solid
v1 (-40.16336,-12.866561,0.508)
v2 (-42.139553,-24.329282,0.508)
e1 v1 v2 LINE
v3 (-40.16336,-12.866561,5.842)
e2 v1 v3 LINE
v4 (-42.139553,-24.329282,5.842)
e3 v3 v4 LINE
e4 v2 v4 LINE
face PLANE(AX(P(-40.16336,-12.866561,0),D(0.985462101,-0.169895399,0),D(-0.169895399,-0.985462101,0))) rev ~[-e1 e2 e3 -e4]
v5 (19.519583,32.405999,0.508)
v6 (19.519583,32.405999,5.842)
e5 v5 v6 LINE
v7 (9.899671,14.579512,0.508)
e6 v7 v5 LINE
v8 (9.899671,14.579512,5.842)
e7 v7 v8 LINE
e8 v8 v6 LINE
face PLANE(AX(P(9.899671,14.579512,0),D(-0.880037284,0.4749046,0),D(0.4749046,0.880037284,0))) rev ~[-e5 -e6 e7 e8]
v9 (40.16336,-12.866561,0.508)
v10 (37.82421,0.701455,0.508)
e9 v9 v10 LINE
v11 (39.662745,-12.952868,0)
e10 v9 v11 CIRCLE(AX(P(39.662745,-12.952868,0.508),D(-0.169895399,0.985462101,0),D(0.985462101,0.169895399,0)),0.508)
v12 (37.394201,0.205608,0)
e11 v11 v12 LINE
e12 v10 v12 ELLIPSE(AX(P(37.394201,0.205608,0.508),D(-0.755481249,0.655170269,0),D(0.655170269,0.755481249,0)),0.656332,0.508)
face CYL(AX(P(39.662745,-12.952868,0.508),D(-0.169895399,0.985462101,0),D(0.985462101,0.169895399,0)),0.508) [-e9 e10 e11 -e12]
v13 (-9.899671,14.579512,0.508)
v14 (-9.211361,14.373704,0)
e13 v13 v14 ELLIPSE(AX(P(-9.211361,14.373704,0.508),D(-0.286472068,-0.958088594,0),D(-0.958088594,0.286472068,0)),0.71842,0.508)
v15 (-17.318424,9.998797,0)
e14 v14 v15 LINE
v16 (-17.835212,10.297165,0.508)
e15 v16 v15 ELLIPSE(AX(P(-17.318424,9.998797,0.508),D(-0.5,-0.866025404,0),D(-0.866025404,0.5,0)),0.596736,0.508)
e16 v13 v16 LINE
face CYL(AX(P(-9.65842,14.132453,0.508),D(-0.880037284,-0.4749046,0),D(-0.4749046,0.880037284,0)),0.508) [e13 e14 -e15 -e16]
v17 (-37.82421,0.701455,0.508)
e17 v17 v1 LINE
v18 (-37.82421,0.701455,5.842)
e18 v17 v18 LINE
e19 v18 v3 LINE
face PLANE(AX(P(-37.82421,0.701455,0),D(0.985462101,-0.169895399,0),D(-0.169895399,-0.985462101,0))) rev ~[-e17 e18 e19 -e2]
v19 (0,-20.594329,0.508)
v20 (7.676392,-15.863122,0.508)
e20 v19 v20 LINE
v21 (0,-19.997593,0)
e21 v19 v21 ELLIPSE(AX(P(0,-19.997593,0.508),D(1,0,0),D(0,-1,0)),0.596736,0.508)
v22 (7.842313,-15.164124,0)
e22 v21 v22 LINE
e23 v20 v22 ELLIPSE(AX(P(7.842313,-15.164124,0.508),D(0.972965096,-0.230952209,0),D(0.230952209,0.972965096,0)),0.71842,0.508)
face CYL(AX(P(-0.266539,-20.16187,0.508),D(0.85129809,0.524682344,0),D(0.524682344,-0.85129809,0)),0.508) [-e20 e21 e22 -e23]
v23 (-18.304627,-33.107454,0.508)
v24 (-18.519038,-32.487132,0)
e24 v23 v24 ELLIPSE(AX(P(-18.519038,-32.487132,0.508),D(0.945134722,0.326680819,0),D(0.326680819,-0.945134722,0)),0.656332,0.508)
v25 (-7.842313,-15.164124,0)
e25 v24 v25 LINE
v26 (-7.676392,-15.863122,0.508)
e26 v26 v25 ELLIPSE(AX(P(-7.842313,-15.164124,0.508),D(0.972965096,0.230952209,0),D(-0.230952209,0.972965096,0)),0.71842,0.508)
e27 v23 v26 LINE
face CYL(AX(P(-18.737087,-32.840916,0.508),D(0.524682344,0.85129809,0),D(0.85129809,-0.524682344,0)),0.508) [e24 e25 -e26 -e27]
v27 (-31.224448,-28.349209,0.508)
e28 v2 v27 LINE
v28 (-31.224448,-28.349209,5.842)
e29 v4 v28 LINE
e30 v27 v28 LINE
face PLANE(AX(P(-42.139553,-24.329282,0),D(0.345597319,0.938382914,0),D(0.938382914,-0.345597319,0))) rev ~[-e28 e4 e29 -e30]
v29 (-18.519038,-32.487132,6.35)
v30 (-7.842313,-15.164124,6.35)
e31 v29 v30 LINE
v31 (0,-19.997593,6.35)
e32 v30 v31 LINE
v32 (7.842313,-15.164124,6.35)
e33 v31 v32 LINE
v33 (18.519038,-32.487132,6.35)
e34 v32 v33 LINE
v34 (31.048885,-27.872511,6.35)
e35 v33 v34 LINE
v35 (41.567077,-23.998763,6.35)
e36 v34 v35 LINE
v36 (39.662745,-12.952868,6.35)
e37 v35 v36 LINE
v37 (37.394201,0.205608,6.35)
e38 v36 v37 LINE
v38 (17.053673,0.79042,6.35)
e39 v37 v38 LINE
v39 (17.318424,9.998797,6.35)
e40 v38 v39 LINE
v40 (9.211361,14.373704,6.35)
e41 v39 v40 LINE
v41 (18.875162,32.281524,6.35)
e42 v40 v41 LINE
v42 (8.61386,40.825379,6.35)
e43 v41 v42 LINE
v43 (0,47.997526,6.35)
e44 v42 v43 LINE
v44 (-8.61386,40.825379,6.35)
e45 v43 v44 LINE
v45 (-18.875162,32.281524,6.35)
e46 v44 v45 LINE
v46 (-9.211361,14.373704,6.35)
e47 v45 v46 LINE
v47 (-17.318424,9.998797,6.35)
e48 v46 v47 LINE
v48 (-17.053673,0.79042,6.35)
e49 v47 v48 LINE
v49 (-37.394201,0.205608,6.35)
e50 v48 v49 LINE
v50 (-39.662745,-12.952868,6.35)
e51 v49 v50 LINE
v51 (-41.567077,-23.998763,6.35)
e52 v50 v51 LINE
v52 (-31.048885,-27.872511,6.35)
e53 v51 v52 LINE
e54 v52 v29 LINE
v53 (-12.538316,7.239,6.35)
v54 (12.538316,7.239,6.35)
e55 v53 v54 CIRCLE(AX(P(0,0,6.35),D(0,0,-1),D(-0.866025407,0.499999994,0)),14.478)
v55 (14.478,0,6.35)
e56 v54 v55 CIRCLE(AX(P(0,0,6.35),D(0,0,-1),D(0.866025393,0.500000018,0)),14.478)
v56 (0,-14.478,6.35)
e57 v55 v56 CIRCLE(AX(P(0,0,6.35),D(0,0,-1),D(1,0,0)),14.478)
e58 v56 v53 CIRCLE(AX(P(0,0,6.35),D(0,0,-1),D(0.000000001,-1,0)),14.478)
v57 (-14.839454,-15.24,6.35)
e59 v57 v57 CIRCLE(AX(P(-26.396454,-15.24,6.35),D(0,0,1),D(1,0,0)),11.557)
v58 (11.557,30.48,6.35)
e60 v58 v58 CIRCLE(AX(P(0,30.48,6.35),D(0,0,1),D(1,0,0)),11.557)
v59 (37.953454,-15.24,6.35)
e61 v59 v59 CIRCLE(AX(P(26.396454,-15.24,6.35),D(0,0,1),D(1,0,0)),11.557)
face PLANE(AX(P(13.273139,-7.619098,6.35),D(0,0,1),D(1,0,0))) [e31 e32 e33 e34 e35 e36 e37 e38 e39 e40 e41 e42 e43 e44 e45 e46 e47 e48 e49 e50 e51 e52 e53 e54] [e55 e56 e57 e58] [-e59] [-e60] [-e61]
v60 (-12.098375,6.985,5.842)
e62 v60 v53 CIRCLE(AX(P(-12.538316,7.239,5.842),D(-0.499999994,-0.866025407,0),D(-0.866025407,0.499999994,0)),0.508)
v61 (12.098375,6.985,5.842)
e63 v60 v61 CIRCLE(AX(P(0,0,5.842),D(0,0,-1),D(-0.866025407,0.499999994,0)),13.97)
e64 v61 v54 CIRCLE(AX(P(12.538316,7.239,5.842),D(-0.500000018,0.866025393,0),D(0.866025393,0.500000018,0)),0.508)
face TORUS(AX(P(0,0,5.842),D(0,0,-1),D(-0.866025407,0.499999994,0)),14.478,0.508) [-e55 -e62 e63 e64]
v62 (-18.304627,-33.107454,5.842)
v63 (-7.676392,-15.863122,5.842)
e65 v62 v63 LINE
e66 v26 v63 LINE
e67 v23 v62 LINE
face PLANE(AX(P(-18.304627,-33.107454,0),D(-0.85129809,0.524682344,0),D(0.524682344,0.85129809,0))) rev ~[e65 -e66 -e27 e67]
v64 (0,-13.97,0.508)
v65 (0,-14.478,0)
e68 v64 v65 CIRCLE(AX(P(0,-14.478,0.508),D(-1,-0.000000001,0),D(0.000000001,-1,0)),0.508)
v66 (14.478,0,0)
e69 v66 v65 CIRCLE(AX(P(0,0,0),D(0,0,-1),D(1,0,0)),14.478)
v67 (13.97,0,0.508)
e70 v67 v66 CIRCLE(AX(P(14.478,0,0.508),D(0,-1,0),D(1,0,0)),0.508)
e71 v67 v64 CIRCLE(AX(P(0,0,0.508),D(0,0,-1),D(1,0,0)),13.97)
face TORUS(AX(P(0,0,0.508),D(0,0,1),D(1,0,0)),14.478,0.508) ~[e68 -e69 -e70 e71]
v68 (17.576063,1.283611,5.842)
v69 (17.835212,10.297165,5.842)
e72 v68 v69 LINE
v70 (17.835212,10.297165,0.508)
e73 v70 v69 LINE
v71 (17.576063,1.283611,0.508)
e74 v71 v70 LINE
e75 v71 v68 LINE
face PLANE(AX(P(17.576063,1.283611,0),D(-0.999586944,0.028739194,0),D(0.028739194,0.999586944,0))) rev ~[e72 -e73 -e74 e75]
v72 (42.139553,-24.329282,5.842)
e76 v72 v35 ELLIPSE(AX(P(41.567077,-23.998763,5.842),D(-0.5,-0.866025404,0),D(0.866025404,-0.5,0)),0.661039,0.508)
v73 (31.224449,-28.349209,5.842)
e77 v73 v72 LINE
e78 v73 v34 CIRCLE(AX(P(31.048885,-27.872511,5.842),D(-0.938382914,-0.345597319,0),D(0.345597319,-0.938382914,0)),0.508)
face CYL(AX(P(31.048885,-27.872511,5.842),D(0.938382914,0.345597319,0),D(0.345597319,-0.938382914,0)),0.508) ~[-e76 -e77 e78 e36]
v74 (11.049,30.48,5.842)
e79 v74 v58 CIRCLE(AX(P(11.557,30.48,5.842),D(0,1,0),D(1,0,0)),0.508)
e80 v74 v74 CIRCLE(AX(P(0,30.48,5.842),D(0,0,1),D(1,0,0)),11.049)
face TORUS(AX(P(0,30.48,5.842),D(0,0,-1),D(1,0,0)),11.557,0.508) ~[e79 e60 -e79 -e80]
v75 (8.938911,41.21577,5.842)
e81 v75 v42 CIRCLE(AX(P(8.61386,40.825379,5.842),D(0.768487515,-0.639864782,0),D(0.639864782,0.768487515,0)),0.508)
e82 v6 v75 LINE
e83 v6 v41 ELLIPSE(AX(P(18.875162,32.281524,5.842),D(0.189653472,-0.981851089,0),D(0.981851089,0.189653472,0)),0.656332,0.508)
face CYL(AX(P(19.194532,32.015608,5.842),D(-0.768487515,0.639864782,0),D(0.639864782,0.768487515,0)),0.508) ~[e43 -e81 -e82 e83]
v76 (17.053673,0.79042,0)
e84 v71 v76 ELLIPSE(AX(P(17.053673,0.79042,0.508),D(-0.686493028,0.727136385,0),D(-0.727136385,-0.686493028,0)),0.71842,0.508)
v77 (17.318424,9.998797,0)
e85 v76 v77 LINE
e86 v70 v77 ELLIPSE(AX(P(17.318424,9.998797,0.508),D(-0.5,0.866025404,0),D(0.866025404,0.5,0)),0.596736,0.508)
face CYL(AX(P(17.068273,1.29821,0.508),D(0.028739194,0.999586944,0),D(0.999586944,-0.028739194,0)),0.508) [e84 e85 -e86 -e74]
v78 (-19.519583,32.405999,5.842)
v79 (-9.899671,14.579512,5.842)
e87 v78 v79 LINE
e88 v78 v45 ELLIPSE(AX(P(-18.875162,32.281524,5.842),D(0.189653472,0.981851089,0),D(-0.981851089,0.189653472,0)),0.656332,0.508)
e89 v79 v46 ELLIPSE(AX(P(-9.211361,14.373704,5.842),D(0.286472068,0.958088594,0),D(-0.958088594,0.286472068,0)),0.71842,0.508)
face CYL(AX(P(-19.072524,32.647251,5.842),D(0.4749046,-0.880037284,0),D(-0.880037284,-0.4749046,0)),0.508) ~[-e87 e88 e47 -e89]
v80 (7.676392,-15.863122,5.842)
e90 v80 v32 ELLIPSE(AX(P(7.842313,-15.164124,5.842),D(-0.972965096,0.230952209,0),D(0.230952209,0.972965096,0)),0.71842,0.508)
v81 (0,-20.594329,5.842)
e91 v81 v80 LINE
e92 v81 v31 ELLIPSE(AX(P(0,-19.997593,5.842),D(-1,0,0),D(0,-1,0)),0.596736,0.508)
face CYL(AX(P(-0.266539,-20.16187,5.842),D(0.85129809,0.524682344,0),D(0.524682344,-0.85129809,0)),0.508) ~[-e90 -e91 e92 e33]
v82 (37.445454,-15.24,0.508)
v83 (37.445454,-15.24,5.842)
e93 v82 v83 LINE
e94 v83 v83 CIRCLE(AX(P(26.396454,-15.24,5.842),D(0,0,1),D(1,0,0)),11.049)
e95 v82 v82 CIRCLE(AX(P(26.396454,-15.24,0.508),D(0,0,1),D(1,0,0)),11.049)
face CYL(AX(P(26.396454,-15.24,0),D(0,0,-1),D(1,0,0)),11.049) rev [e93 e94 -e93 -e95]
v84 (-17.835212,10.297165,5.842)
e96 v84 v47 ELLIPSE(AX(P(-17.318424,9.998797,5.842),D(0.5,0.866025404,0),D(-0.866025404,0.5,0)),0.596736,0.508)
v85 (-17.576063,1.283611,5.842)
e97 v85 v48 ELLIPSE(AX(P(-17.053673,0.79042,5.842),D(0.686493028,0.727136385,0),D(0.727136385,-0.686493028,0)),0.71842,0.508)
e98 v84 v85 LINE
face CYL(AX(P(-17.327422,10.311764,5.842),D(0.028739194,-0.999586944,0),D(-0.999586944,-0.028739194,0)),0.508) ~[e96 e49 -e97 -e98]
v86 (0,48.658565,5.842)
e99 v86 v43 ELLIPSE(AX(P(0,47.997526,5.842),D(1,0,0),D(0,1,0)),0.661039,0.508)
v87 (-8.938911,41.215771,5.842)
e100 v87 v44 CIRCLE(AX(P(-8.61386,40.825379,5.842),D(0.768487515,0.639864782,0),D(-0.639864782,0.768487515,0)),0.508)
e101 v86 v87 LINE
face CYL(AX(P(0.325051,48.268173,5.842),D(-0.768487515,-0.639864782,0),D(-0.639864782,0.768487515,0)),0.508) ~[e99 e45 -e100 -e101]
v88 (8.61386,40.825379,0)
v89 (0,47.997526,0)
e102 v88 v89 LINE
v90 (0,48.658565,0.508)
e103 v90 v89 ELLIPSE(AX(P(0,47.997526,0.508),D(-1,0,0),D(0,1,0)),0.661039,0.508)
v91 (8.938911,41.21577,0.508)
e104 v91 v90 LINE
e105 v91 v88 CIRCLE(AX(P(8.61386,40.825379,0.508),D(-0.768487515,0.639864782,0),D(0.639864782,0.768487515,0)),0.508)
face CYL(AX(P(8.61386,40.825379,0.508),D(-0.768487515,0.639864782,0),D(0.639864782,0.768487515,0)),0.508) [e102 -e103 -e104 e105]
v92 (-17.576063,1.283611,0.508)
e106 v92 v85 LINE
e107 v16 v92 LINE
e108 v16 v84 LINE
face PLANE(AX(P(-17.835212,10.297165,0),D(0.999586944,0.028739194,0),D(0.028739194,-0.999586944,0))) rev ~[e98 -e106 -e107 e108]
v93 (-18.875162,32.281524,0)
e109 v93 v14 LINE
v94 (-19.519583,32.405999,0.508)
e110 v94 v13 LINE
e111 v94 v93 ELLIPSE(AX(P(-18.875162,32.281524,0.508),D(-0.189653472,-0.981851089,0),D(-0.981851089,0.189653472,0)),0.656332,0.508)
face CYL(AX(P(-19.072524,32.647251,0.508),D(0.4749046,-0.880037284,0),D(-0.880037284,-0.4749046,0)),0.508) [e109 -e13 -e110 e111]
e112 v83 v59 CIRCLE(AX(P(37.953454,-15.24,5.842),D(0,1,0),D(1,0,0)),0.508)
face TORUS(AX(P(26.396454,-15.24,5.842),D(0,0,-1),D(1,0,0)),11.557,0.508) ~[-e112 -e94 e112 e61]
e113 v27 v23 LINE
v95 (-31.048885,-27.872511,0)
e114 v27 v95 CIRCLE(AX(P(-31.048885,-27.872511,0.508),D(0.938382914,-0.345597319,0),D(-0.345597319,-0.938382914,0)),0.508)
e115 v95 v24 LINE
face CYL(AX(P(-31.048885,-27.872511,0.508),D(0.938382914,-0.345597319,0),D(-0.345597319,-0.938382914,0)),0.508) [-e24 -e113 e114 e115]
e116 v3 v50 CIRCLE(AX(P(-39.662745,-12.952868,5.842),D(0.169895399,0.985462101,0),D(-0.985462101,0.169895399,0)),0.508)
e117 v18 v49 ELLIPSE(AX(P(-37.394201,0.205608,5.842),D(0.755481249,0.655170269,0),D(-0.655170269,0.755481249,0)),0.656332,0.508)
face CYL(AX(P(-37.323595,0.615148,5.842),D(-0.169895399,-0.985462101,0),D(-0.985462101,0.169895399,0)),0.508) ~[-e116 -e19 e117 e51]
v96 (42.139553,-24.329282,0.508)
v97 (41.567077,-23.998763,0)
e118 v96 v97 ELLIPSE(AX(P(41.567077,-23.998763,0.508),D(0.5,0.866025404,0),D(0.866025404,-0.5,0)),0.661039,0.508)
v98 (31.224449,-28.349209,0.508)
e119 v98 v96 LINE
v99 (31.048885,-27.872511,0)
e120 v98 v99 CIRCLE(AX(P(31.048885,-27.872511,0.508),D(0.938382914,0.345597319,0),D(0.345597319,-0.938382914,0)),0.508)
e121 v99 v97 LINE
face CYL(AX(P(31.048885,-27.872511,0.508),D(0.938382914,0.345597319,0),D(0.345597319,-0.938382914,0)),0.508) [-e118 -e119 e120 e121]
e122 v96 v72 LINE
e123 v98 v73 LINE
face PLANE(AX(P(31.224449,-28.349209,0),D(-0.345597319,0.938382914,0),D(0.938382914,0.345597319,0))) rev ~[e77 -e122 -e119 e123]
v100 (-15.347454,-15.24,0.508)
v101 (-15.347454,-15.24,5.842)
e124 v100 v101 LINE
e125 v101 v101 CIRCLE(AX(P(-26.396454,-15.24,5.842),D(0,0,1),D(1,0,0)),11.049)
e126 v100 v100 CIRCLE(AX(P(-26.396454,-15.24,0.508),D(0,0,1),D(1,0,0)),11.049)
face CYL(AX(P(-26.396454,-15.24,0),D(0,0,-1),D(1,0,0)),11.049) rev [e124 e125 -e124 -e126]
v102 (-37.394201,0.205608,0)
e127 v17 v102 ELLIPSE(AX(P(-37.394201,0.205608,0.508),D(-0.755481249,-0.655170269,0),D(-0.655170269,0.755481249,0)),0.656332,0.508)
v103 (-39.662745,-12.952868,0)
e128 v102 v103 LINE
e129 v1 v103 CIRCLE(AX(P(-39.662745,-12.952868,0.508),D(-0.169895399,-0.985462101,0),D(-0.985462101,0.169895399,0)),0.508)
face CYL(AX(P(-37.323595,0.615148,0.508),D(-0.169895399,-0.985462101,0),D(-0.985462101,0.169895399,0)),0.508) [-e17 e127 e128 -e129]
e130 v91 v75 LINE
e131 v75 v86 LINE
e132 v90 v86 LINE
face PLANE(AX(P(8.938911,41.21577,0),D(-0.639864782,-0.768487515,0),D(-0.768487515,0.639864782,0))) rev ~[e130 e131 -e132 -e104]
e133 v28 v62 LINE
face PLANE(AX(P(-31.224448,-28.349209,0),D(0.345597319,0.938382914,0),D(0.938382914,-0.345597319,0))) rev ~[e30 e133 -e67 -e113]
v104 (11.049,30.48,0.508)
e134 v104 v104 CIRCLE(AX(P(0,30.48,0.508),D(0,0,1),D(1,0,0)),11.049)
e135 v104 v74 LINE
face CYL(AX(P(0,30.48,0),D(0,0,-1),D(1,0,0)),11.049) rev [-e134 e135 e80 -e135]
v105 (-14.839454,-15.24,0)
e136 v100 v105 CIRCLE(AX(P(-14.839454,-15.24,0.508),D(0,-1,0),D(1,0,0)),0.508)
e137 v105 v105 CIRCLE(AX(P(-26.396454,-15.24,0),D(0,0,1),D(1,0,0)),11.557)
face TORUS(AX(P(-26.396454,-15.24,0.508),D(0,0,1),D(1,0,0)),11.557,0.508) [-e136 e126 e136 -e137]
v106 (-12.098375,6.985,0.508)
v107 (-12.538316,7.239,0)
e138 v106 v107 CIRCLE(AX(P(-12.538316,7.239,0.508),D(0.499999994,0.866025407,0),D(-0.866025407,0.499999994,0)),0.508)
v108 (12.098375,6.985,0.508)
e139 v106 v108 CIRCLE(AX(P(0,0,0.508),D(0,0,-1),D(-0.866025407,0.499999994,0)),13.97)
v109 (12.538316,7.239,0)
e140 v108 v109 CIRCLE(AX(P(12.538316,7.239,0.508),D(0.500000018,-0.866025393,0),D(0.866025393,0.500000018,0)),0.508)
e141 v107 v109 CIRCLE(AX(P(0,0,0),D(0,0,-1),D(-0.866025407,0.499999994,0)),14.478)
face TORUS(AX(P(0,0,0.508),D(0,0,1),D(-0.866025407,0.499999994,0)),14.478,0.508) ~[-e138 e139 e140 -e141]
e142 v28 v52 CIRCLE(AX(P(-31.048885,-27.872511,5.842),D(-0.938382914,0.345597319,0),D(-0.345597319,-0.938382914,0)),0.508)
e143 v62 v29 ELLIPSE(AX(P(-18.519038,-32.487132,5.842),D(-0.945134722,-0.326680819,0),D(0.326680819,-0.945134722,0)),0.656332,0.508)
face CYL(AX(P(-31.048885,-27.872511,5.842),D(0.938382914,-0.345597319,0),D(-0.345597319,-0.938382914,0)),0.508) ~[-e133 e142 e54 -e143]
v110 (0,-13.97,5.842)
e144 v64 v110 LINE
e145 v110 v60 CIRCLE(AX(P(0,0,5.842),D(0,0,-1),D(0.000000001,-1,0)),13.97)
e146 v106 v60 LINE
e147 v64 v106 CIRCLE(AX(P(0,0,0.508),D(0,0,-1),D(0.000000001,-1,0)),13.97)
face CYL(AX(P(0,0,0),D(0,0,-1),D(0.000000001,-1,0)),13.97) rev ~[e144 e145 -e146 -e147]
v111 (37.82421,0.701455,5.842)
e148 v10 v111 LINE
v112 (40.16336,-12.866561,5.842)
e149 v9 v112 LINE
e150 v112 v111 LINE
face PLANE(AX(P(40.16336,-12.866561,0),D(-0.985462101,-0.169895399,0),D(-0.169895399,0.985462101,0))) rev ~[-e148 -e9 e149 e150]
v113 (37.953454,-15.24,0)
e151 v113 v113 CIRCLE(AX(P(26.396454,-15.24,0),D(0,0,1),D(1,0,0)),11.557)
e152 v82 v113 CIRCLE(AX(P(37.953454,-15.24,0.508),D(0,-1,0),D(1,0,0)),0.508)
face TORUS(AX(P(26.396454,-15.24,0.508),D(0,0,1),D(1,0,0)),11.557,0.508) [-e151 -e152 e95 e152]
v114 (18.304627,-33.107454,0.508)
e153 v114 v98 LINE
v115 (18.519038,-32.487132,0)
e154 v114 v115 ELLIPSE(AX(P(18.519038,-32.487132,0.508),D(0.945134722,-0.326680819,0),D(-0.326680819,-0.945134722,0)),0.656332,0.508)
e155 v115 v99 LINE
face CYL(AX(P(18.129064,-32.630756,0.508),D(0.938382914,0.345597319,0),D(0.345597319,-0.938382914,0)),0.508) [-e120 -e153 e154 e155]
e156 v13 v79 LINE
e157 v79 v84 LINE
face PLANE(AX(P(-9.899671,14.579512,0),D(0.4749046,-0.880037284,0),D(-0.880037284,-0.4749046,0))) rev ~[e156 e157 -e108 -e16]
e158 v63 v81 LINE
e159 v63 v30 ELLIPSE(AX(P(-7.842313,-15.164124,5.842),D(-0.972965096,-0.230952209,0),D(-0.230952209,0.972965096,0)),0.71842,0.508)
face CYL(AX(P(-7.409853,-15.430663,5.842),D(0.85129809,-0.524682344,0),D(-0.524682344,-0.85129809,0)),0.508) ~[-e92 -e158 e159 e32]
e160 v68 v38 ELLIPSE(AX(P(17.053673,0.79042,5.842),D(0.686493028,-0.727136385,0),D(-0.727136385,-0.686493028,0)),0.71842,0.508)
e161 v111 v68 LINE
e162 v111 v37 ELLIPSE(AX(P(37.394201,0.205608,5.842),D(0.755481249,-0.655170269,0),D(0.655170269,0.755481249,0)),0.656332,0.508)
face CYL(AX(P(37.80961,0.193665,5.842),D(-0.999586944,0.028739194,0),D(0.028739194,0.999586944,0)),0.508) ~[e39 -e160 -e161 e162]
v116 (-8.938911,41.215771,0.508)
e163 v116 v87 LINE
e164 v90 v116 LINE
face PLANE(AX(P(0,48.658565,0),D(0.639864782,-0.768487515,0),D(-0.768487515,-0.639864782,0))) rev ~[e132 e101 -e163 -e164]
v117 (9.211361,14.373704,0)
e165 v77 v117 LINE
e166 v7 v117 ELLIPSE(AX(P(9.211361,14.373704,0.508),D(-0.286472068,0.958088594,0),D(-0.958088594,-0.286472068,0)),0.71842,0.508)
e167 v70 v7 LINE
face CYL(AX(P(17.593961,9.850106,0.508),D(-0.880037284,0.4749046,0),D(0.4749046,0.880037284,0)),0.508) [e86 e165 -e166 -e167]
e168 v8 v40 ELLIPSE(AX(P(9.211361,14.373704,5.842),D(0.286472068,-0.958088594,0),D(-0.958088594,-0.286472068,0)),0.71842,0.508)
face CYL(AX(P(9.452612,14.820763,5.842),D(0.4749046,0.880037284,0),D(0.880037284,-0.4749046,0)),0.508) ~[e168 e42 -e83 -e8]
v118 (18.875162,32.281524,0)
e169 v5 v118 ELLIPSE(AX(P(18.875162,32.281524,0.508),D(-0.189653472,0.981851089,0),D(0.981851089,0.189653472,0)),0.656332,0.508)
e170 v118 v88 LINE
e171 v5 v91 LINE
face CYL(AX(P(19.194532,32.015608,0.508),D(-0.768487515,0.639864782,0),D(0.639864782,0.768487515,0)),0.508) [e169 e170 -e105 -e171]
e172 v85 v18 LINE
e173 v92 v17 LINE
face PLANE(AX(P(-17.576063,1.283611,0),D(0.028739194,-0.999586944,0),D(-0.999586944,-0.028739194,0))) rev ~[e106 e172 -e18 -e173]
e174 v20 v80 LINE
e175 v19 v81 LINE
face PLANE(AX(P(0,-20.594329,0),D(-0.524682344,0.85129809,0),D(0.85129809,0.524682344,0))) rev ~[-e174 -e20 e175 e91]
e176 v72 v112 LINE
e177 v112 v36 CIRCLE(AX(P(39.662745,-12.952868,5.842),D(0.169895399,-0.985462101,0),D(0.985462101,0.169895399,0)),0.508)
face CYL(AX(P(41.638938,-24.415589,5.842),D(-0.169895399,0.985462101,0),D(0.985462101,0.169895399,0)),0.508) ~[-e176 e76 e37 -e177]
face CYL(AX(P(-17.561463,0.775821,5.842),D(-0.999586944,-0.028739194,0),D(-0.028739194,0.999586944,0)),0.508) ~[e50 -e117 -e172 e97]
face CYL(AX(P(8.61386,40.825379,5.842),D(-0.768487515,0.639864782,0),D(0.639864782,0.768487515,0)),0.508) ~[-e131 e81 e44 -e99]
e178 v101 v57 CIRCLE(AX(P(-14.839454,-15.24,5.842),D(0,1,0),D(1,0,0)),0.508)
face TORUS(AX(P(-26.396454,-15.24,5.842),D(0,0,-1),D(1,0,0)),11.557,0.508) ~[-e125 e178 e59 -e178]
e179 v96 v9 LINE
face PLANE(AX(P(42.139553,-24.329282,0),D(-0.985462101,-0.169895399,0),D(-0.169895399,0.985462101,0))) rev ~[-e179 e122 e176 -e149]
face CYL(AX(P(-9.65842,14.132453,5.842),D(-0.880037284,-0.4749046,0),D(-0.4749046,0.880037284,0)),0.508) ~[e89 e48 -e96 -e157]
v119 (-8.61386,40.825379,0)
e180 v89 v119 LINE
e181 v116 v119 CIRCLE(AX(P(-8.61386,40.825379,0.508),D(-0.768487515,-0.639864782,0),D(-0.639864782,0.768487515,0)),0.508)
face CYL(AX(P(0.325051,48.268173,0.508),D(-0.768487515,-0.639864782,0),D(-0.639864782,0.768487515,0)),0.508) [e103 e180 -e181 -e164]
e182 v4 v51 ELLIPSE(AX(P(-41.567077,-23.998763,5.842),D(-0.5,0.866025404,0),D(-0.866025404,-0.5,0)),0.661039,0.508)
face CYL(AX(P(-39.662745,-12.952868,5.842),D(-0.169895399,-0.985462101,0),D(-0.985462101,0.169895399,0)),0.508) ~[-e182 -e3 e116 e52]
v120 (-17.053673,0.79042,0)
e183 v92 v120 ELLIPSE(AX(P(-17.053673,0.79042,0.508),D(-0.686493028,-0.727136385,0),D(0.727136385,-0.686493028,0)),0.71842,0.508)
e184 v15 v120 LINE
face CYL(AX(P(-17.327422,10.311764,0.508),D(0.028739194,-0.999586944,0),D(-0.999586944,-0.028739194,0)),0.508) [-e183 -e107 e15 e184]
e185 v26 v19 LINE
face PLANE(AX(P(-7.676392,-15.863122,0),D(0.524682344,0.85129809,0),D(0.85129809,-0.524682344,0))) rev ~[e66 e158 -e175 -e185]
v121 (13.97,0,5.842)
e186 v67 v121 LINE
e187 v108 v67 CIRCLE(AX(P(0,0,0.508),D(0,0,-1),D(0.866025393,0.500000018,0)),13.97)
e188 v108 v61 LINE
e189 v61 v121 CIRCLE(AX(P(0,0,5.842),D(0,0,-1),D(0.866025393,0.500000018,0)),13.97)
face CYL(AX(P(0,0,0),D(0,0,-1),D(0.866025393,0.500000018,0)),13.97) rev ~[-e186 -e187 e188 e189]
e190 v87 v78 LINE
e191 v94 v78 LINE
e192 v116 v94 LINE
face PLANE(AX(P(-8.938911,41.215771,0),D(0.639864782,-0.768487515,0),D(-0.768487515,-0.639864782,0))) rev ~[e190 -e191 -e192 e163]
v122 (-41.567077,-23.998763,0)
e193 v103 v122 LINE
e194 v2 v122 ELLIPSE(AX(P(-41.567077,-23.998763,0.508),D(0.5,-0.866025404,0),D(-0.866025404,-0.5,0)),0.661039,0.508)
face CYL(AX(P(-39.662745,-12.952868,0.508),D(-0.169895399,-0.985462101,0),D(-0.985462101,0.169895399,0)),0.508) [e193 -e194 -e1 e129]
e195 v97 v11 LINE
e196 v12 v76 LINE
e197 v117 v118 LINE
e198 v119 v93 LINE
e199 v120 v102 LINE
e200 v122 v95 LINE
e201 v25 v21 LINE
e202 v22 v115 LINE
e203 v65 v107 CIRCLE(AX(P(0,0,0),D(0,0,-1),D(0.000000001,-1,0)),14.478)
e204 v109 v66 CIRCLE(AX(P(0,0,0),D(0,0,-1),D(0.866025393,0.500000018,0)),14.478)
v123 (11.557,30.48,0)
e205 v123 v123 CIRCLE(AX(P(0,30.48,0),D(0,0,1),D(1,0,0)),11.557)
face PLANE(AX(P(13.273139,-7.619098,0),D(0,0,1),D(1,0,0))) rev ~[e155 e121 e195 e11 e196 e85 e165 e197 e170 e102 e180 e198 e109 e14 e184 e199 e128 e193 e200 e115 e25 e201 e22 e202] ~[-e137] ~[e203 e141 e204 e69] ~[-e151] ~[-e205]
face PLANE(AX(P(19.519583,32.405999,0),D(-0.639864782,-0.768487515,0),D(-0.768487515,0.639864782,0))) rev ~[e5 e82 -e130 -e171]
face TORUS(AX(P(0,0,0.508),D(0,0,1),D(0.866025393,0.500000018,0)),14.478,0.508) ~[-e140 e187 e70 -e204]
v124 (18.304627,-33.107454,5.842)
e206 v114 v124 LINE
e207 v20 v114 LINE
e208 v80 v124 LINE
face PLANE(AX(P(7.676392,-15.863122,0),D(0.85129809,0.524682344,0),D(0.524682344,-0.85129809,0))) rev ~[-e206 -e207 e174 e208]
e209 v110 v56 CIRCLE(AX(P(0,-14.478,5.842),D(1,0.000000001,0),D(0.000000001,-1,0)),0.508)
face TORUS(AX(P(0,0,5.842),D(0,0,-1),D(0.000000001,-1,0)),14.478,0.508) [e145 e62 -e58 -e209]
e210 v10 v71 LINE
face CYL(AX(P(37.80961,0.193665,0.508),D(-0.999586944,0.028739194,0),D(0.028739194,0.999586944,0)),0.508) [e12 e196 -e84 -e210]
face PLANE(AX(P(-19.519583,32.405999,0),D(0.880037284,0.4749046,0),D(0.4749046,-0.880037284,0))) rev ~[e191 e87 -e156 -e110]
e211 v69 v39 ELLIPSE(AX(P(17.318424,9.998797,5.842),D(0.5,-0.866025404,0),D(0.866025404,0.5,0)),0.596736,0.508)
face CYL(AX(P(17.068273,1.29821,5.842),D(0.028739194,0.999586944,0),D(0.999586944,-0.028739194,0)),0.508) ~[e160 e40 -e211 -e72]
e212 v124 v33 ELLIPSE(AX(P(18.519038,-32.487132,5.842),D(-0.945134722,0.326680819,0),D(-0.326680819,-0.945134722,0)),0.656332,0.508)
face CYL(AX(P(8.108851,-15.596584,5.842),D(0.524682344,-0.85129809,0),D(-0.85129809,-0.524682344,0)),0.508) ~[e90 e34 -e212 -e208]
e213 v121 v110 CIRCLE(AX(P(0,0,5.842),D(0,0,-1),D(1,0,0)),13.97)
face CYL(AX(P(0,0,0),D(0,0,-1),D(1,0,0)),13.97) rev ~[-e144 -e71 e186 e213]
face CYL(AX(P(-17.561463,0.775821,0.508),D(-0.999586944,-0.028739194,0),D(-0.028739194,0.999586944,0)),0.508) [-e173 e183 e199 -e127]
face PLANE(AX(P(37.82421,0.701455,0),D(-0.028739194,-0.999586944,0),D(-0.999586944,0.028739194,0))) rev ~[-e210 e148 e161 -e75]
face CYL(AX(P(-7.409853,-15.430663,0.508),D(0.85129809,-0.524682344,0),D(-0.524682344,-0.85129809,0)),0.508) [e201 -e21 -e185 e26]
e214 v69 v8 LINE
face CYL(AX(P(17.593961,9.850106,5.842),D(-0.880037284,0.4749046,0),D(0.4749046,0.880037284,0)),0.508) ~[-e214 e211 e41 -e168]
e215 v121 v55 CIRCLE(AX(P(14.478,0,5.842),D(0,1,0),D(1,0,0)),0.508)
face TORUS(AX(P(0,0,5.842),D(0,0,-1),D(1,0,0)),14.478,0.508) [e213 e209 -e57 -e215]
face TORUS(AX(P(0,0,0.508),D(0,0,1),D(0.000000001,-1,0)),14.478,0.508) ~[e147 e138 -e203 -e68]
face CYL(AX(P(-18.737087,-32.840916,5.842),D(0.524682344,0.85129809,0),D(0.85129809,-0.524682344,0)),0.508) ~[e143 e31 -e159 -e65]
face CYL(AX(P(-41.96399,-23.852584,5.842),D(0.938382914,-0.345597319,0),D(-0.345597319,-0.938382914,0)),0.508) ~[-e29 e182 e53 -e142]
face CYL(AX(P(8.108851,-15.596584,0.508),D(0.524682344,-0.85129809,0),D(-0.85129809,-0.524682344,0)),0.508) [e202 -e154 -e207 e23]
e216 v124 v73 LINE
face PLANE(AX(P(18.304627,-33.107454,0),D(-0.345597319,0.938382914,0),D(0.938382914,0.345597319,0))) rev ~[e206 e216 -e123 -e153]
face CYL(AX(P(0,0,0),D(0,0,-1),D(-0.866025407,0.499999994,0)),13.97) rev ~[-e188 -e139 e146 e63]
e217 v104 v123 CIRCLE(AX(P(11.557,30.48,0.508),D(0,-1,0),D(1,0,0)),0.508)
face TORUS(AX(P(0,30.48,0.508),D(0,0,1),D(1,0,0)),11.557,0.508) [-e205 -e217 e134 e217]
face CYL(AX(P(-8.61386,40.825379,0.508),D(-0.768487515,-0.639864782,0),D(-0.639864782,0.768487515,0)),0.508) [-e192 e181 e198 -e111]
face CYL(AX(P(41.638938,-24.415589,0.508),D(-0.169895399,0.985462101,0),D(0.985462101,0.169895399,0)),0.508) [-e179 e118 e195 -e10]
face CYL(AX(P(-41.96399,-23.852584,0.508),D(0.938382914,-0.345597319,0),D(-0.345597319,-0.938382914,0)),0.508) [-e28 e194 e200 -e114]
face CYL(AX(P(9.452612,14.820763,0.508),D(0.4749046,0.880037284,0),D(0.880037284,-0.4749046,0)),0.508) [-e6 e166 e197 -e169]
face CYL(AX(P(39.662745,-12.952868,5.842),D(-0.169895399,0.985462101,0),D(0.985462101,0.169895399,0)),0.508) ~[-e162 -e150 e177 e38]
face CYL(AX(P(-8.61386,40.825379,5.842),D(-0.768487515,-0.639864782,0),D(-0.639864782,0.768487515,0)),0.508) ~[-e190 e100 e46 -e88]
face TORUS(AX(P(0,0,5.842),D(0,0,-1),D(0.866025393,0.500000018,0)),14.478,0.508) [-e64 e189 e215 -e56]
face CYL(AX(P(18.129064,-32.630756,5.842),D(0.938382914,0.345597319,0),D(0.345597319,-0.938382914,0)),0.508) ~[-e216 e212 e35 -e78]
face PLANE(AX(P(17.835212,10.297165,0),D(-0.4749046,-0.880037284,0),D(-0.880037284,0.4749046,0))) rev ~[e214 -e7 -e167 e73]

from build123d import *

# Parameters (mm, degrees)
F0_R     = 11.049
F1_DEPTH = 6.35
F2_R     = 0.508


with BuildPart() as f1:
    # F0 (on Top) → F1 (new body)
    with BuildSketch(Plane.XY):
        with BuildLine():
            ThreePointArc((12.0983747456, 6.9850002516), (13.4939837557, 3.6157022004), (13.97, 0))
            ThreePointArc((13.97, 0), (9.8782817384, -9.878281728), (1.47e-08, -13.97))
            ThreePointArc((1.47e-08, -13.97), (3.9531918818, -14.4502659428), (7.6763918152, -15.863122471))
            ThreePointArc((7.6763918152, -15.863122471), (11.438431619, -18.5744390263), (14.2980794165, -22.225))
            ThreePointArc((14.2980794165, -22.225), (14.2980794165, -8.255), (26.3964543073, -1.27))
            ThreePointArc((26.3964543073, -1.27), (21.8051518673, -0.6187528483), (17.5760629508, 1.2836109141))
            ThreePointArc((17.5760629508, 1.2836109141), (14.490893233, 3.8015684858), (12.0983747456, 6.9850002516))
        make_face()
        with BuildLine():
            ThreePointArc((-12.0983749365, 6.984999921), (-1.908e-07, 13.97), (12.0983747456, 6.9850002516))
            ThreePointArc((12.0983747456, 6.9850002516), (10.5377014186, 10.6486976995), (9.8996711356, 14.5795115569))
            ThreePointArc((9.8996711356, 14.5795115569), (10.3667202483, 19.1931918746), (12.0983748909, 23.495))
            ThreePointArc((12.0983748909, 23.495), (0, 16.51), (-12.0983748909, 23.495))
            ThreePointArc((-12.0983748909, 23.495), (-10.3667202483, 19.1931918746), (-9.8996711356, 14.5795115569))
            ThreePointArc((-9.8996711356, 14.5795115569), (-10.5377014717, 10.6486975162), (-12.0983749365, 6.984999921))
        make_face()
        with BuildLine():
            ThreePointArc((9.8996711356, 14.5795115569), (10.5377014186, 10.6486976995), (12.0983747456, 6.9850002516))
            ThreePointArc((12.0983747456, 6.9850002516), (14.490893233, 3.8015684858), (17.5760629508, 1.2836109141))
            Line((17.5760629508, 1.2836109141), (17.835212258, 10.2971645982))
            Line((17.835212258, 10.2971645982), (9.8996711356, 14.5795115569))
        make_face()
        with BuildLine():
            ThreePointArc((-7.6763918152, -15.863122471), (-3.9531918675, -14.4502659392), (1.47e-08, -13.97))
            ThreePointArc((1.47e-08, -13.97), (-12.0983748644, -6.9850000458), (-12.0983749365, 6.984999921))
            ThreePointArc((-12.0983749365, 6.984999921), (-14.4908933653, 3.8015683482), (-17.5760629508, 1.2836109141))
            ThreePointArc((-17.5760629508, 1.2836109141), (-21.8051518673, -0.6187528483), (-26.3964543073, -1.27))
            ThreePointArc((-26.3964543073, -1.27), (-16.5181725742, -5.3617182668), (-12.4264543073, -15.24))
            ThreePointArc((-12.4264543073, -15.24), (-12.9024705141, -18.8557020601), (-14.2980794165, -22.225))
            ThreePointArc((-14.2980794165, -22.225), (-11.438431619, -18.5744390263), (-7.6763918152, -15.863122471))
        make_face()
        with BuildLine():
            ThreePointArc((7.6763918152, -15.863122471), (3.9531918818, -14.4502659428), (1.47e-08, -13.97))
            ThreePointArc((1.47e-08, -13.97), (-3.9531918675, -14.4502659392), (-7.6763918152, -15.863122471))
            Line((-7.6763918152, -15.863122471), (0, -20.5943291964))
            Line((0, -20.5943291964), (7.6763918152, -15.863122471))
        make_face()
        with BuildLine():
            ThreePointArc((-17.5760629508, 1.2836109141), (-14.4908933653, 3.8015683482), (-12.0983749365, 6.984999921))
            ThreePointArc((-12.0983749365, 6.984999921), (-10.5377014717, 10.6486975162), (-9.8996711356, 14.5795115569))
            Line((-9.8996711356, 14.5795115569), (-17.835212258, 10.2971645982))
            Line((-17.835212258, 10.2971645982), (-17.5760629508, 1.2836109141))
        make_face()
        with BuildLine():
            ThreePointArc((12.0983748909, 23.495), (10.3667202483, 19.1931918746), (9.8996711356, 14.5795115569))
            Line((9.8996711356, 14.5795115569), (19.5195828776, 32.405999219))
            Line((19.5195828776, 32.405999219), (8.9389112692, 41.2157703646))
            ThreePointArc((8.9389112692, 41.2157703646), (12.6498515887, 36.4080818807), (13.97, 30.48))
            ThreePointArc((13.97, 30.48), (13.4939837933, 26.8642979399), (12.0983748909, 23.495))
        make_face()
        with BuildLine():
            Line((37.8242099975, 0.7014550338), (17.5760629508, 1.2836109141))
            ThreePointArc((17.5760629508, 1.2836109141), (21.8051518673, -0.6187528483), (26.3964543073, -1.27))
            ThreePointArc((26.3964543073, -1.27), (35.3965642664, -4.555482195), (40.1633598341, -12.8665610989))
            Line((40.1633598341, -12.8665610989), (37.8242099975, 0.7014550338))
        make_face()
        with BuildLine():
            ThreePointArc((14.2980794165, -22.225), (11.438431619, -18.5744390263), (7.6763918152, -15.863122471))
            Line((7.6763918152, -15.863122471), (18.3046271199, -33.1074542528))
            Line((18.3046271199, -33.1074542528), (31.2244487549, -28.3492093436))
            ThreePointArc((31.2244487549, -28.3492093436), (21.6434454741, -28.376582776), (14.2980794165, -22.225))
        make_face()
        with BuildLine():
            Line((-18.3046271199, -33.1074542528), (-7.6763918152, -15.863122471))
            ThreePointArc((-7.6763918152, -15.863122471), (-11.438431619, -18.5744390263), (-14.2980794165, -22.225))
            ThreePointArc((-14.2980794165, -22.225), (-21.6434452704, -28.3765827023), (-31.2244483483, -28.3492094933))
            Line((-31.2244483483, -28.3492094933), (-18.3046271199, -33.1074542528))
        make_face()
        with BuildLine():
            ThreePointArc((-26.3964543073, -1.27), (-21.8051518673, -0.6187528483), (-17.5760629508, 1.2836109141))
            Line((-17.5760629508, 1.2836109141), (-37.8242099975, 0.7014550338))
            Line((-37.8242099975, 0.7014550338), (-40.1633598688, -12.8665612999))
            ThreePointArc((-40.1633598688, -12.8665612999), (-35.3965643445, -4.5554822608), (-26.3964543073, -1.27))
        make_face()
        with BuildLine():
            Line((-19.5195828776, 32.405999219), (-9.8996711356, 14.5795115569))
            ThreePointArc((-9.8996711356, 14.5795115569), (-10.3667202483, 19.1931918746), (-12.0983748909, 23.495))
            ThreePointArc((-12.0983748909, 23.495), (-13.7531188169, 32.9320650087), (-8.9389110683, 41.2157705318))
            Line((-8.9389110683, 41.2157705318), (-19.5195828776, 32.405999219))
        make_face()
        with BuildLine():
            ThreePointArc((-12.0983748909, 23.495), (0, 16.51), (12.0983748909, 23.495))
            ThreePointArc((12.0983748909, 23.495), (13.4939837933, 26.8642979399), (13.97, 30.48))
            ThreePointArc((13.97, 30.48), (12.6498515887, 36.4080818807), (8.9389112692, 41.2157703646))
            ThreePointArc((8.9389112692, 41.2157703646), (1.307e-07, 44.45), (-8.9389110683, 41.2157705318))
            ThreePointArc((-8.9389110683, 41.2157705318), (-13.7531188169, 32.9320650087), (-12.0983748909, 23.495))
        make_face()
        with Locations((0, 30.48)):
            Circle(F0_R, mode=Mode.SUBTRACT)
        with BuildLine():
            ThreePointArc((40.1633598341, -12.8665610989), (35.3965642664, -4.555482195), (26.3964543073, -1.27))
            ThreePointArc((26.3964543073, -1.27), (14.2980794165, -8.255), (14.2980794165, -22.225))
            ThreePointArc((14.2980794165, -22.225), (21.6434454741, -28.376582776), (31.2244487549, -28.3492093436))
            ThreePointArc((31.2244487549, -28.3492093436), (37.8552496723, -23.2310517946), (40.3664543073, -15.24))
            ThreePointArc((40.3664543073, -15.24), (40.3155880844, -14.0489437899), (40.1633598341, -12.8665610989))
        make_face()
        with Locations((26.3964543073, -15.24)):
            Circle(F0_R, mode=Mode.SUBTRACT)
        with BuildLine():
            ThreePointArc((-31.2244483483, -28.3492094933), (-21.6434452704, -28.3765827023), (-14.2980794165, -22.225))
            ThreePointArc((-14.2980794165, -22.225), (-12.9024705141, -18.8557020601), (-12.4264543073, -15.24))
            ThreePointArc((-12.4264543073, -15.24), (-16.5181725742, -5.3617182668), (-26.3964543073, -1.27))
            ThreePointArc((-26.3964543073, -1.27), (-35.3965643445, -4.5554822608), (-40.1633598688, -12.8665612999))
            ThreePointArc((-40.1633598688, -12.8665612999), (-38.4948290567, -22.2250002451), (-31.2244483483, -28.3492094933))
        make_face()
        with Locations((-26.3964543073, -15.24)):
            Circle(F0_R, mode=Mode.SUBTRACT)
        with BuildLine():
            ThreePointArc((-8.9389110683, 41.2157705318), (1.307e-07, 44.45), (8.9389112692, 41.2157703646))
            Line((8.9389112692, 41.2157703646), (0, 48.6585646868))
            Line((0, 48.6585646868), (-8.9389110683, 41.2157705318))
        make_face()
        with BuildLine():
            Line((42.1395531304, -24.3292823434), (40.1633598341, -12.8665610989))
            ThreePointArc((40.1633598341, -12.8665610989), (40.3155880844, -14.0489437899), (40.3664543073, -15.24))
            ThreePointArc((40.3664543073, -15.24), (37.8552496723, -23.2310517946), (31.2244487549, -28.3492093436))
            Line((31.2244487549, -28.3492093436), (42.1395531304, -24.3292823434))
        make_face()
        with BuildLine():
            Line((-42.1395531304, -24.3292823434), (-31.2244483483, -28.3492094933))
            ThreePointArc((-31.2244483483, -28.3492094933), (-38.4948290567, -22.2250002451), (-40.1633598688, -12.8665612999))
            Line((-40.1633598688, -12.8665612999), (-42.1395531304, -24.3292823434))
        make_face()
    extrude(amount=F1_DEPTH)

    # F2
    f2_edges = [f1.edges().sort_by_distance(p)[0] for p in [
        (-13.867442, 12.438338, 0),
        (-17.705638, 5.790388, 0),
        (-27.700136, 0.992533, 0),
        (-39.981882, -11.813914, 0),
        (-30.22209, -28.718368, 0),
        (-12.990509, -24.485288, 0),
        (-3.838196, -18.228726, 0),
        (3.838196, -18.228726, 0),
        (12.990509, -24.485288, 0),
        (30.22209, -28.718368, 0),
        (39.981882, -11.813914, 0),
        (27.700136, 0.992533, 0),
        (17.705638, 5.790388, 0),
        (13.867442, 12.438338, 0),
        (14.709627, 23.492755, 0),
        (9.759791, 40.532282, 0),
        (-9.759791, 40.532282, 0),
        (-14.709627, 23.492755, 0),
        (12.098375, -6.985, 0),
        (-11.049, 30.48, 0),
        (15.347454, -15.24, 0),
        (-37.445454, -15.24, 0),
        (-13.867442, 12.438338, 6.35),
        (-17.705638, 5.790388, 6.35),
        (-27.700136, 0.992533, 6.35),
        (-39.981882, -11.813914, 6.35),
        (-30.22209, -28.718368, 6.35),
        (-12.990509, -24.485288, 6.35),
        (-3.838196, -18.228726, 6.35),
        (3.838196, -18.228726, 6.35),
        (12.990509, -24.485288, 6.35),
        (30.22209, -28.718368, 6.35),
        (39.981882, -11.813914, 6.35),
        (27.700136, 0.992533, 6.35),
        (17.705638, 5.790388, 6.35),
        (13.867442, 12.438338, 6.35),
        (14.709627, 23.492755, 6.35),
        (9.759791, 40.532282, 6.35),
        (-9.759791, 40.532282, 6.35),
        (-14.709627, 23.492755, 6.35),
        (12.098375, -6.985, 6.35),
        (-11.049, 30.48, 6.35),
        (15.347454, -15.24, 6.35),
        (-37.445454, -15.24, 6.35),
    ]]
    fillet(f2_edges, radius=F2_R)


solid = f1.part
